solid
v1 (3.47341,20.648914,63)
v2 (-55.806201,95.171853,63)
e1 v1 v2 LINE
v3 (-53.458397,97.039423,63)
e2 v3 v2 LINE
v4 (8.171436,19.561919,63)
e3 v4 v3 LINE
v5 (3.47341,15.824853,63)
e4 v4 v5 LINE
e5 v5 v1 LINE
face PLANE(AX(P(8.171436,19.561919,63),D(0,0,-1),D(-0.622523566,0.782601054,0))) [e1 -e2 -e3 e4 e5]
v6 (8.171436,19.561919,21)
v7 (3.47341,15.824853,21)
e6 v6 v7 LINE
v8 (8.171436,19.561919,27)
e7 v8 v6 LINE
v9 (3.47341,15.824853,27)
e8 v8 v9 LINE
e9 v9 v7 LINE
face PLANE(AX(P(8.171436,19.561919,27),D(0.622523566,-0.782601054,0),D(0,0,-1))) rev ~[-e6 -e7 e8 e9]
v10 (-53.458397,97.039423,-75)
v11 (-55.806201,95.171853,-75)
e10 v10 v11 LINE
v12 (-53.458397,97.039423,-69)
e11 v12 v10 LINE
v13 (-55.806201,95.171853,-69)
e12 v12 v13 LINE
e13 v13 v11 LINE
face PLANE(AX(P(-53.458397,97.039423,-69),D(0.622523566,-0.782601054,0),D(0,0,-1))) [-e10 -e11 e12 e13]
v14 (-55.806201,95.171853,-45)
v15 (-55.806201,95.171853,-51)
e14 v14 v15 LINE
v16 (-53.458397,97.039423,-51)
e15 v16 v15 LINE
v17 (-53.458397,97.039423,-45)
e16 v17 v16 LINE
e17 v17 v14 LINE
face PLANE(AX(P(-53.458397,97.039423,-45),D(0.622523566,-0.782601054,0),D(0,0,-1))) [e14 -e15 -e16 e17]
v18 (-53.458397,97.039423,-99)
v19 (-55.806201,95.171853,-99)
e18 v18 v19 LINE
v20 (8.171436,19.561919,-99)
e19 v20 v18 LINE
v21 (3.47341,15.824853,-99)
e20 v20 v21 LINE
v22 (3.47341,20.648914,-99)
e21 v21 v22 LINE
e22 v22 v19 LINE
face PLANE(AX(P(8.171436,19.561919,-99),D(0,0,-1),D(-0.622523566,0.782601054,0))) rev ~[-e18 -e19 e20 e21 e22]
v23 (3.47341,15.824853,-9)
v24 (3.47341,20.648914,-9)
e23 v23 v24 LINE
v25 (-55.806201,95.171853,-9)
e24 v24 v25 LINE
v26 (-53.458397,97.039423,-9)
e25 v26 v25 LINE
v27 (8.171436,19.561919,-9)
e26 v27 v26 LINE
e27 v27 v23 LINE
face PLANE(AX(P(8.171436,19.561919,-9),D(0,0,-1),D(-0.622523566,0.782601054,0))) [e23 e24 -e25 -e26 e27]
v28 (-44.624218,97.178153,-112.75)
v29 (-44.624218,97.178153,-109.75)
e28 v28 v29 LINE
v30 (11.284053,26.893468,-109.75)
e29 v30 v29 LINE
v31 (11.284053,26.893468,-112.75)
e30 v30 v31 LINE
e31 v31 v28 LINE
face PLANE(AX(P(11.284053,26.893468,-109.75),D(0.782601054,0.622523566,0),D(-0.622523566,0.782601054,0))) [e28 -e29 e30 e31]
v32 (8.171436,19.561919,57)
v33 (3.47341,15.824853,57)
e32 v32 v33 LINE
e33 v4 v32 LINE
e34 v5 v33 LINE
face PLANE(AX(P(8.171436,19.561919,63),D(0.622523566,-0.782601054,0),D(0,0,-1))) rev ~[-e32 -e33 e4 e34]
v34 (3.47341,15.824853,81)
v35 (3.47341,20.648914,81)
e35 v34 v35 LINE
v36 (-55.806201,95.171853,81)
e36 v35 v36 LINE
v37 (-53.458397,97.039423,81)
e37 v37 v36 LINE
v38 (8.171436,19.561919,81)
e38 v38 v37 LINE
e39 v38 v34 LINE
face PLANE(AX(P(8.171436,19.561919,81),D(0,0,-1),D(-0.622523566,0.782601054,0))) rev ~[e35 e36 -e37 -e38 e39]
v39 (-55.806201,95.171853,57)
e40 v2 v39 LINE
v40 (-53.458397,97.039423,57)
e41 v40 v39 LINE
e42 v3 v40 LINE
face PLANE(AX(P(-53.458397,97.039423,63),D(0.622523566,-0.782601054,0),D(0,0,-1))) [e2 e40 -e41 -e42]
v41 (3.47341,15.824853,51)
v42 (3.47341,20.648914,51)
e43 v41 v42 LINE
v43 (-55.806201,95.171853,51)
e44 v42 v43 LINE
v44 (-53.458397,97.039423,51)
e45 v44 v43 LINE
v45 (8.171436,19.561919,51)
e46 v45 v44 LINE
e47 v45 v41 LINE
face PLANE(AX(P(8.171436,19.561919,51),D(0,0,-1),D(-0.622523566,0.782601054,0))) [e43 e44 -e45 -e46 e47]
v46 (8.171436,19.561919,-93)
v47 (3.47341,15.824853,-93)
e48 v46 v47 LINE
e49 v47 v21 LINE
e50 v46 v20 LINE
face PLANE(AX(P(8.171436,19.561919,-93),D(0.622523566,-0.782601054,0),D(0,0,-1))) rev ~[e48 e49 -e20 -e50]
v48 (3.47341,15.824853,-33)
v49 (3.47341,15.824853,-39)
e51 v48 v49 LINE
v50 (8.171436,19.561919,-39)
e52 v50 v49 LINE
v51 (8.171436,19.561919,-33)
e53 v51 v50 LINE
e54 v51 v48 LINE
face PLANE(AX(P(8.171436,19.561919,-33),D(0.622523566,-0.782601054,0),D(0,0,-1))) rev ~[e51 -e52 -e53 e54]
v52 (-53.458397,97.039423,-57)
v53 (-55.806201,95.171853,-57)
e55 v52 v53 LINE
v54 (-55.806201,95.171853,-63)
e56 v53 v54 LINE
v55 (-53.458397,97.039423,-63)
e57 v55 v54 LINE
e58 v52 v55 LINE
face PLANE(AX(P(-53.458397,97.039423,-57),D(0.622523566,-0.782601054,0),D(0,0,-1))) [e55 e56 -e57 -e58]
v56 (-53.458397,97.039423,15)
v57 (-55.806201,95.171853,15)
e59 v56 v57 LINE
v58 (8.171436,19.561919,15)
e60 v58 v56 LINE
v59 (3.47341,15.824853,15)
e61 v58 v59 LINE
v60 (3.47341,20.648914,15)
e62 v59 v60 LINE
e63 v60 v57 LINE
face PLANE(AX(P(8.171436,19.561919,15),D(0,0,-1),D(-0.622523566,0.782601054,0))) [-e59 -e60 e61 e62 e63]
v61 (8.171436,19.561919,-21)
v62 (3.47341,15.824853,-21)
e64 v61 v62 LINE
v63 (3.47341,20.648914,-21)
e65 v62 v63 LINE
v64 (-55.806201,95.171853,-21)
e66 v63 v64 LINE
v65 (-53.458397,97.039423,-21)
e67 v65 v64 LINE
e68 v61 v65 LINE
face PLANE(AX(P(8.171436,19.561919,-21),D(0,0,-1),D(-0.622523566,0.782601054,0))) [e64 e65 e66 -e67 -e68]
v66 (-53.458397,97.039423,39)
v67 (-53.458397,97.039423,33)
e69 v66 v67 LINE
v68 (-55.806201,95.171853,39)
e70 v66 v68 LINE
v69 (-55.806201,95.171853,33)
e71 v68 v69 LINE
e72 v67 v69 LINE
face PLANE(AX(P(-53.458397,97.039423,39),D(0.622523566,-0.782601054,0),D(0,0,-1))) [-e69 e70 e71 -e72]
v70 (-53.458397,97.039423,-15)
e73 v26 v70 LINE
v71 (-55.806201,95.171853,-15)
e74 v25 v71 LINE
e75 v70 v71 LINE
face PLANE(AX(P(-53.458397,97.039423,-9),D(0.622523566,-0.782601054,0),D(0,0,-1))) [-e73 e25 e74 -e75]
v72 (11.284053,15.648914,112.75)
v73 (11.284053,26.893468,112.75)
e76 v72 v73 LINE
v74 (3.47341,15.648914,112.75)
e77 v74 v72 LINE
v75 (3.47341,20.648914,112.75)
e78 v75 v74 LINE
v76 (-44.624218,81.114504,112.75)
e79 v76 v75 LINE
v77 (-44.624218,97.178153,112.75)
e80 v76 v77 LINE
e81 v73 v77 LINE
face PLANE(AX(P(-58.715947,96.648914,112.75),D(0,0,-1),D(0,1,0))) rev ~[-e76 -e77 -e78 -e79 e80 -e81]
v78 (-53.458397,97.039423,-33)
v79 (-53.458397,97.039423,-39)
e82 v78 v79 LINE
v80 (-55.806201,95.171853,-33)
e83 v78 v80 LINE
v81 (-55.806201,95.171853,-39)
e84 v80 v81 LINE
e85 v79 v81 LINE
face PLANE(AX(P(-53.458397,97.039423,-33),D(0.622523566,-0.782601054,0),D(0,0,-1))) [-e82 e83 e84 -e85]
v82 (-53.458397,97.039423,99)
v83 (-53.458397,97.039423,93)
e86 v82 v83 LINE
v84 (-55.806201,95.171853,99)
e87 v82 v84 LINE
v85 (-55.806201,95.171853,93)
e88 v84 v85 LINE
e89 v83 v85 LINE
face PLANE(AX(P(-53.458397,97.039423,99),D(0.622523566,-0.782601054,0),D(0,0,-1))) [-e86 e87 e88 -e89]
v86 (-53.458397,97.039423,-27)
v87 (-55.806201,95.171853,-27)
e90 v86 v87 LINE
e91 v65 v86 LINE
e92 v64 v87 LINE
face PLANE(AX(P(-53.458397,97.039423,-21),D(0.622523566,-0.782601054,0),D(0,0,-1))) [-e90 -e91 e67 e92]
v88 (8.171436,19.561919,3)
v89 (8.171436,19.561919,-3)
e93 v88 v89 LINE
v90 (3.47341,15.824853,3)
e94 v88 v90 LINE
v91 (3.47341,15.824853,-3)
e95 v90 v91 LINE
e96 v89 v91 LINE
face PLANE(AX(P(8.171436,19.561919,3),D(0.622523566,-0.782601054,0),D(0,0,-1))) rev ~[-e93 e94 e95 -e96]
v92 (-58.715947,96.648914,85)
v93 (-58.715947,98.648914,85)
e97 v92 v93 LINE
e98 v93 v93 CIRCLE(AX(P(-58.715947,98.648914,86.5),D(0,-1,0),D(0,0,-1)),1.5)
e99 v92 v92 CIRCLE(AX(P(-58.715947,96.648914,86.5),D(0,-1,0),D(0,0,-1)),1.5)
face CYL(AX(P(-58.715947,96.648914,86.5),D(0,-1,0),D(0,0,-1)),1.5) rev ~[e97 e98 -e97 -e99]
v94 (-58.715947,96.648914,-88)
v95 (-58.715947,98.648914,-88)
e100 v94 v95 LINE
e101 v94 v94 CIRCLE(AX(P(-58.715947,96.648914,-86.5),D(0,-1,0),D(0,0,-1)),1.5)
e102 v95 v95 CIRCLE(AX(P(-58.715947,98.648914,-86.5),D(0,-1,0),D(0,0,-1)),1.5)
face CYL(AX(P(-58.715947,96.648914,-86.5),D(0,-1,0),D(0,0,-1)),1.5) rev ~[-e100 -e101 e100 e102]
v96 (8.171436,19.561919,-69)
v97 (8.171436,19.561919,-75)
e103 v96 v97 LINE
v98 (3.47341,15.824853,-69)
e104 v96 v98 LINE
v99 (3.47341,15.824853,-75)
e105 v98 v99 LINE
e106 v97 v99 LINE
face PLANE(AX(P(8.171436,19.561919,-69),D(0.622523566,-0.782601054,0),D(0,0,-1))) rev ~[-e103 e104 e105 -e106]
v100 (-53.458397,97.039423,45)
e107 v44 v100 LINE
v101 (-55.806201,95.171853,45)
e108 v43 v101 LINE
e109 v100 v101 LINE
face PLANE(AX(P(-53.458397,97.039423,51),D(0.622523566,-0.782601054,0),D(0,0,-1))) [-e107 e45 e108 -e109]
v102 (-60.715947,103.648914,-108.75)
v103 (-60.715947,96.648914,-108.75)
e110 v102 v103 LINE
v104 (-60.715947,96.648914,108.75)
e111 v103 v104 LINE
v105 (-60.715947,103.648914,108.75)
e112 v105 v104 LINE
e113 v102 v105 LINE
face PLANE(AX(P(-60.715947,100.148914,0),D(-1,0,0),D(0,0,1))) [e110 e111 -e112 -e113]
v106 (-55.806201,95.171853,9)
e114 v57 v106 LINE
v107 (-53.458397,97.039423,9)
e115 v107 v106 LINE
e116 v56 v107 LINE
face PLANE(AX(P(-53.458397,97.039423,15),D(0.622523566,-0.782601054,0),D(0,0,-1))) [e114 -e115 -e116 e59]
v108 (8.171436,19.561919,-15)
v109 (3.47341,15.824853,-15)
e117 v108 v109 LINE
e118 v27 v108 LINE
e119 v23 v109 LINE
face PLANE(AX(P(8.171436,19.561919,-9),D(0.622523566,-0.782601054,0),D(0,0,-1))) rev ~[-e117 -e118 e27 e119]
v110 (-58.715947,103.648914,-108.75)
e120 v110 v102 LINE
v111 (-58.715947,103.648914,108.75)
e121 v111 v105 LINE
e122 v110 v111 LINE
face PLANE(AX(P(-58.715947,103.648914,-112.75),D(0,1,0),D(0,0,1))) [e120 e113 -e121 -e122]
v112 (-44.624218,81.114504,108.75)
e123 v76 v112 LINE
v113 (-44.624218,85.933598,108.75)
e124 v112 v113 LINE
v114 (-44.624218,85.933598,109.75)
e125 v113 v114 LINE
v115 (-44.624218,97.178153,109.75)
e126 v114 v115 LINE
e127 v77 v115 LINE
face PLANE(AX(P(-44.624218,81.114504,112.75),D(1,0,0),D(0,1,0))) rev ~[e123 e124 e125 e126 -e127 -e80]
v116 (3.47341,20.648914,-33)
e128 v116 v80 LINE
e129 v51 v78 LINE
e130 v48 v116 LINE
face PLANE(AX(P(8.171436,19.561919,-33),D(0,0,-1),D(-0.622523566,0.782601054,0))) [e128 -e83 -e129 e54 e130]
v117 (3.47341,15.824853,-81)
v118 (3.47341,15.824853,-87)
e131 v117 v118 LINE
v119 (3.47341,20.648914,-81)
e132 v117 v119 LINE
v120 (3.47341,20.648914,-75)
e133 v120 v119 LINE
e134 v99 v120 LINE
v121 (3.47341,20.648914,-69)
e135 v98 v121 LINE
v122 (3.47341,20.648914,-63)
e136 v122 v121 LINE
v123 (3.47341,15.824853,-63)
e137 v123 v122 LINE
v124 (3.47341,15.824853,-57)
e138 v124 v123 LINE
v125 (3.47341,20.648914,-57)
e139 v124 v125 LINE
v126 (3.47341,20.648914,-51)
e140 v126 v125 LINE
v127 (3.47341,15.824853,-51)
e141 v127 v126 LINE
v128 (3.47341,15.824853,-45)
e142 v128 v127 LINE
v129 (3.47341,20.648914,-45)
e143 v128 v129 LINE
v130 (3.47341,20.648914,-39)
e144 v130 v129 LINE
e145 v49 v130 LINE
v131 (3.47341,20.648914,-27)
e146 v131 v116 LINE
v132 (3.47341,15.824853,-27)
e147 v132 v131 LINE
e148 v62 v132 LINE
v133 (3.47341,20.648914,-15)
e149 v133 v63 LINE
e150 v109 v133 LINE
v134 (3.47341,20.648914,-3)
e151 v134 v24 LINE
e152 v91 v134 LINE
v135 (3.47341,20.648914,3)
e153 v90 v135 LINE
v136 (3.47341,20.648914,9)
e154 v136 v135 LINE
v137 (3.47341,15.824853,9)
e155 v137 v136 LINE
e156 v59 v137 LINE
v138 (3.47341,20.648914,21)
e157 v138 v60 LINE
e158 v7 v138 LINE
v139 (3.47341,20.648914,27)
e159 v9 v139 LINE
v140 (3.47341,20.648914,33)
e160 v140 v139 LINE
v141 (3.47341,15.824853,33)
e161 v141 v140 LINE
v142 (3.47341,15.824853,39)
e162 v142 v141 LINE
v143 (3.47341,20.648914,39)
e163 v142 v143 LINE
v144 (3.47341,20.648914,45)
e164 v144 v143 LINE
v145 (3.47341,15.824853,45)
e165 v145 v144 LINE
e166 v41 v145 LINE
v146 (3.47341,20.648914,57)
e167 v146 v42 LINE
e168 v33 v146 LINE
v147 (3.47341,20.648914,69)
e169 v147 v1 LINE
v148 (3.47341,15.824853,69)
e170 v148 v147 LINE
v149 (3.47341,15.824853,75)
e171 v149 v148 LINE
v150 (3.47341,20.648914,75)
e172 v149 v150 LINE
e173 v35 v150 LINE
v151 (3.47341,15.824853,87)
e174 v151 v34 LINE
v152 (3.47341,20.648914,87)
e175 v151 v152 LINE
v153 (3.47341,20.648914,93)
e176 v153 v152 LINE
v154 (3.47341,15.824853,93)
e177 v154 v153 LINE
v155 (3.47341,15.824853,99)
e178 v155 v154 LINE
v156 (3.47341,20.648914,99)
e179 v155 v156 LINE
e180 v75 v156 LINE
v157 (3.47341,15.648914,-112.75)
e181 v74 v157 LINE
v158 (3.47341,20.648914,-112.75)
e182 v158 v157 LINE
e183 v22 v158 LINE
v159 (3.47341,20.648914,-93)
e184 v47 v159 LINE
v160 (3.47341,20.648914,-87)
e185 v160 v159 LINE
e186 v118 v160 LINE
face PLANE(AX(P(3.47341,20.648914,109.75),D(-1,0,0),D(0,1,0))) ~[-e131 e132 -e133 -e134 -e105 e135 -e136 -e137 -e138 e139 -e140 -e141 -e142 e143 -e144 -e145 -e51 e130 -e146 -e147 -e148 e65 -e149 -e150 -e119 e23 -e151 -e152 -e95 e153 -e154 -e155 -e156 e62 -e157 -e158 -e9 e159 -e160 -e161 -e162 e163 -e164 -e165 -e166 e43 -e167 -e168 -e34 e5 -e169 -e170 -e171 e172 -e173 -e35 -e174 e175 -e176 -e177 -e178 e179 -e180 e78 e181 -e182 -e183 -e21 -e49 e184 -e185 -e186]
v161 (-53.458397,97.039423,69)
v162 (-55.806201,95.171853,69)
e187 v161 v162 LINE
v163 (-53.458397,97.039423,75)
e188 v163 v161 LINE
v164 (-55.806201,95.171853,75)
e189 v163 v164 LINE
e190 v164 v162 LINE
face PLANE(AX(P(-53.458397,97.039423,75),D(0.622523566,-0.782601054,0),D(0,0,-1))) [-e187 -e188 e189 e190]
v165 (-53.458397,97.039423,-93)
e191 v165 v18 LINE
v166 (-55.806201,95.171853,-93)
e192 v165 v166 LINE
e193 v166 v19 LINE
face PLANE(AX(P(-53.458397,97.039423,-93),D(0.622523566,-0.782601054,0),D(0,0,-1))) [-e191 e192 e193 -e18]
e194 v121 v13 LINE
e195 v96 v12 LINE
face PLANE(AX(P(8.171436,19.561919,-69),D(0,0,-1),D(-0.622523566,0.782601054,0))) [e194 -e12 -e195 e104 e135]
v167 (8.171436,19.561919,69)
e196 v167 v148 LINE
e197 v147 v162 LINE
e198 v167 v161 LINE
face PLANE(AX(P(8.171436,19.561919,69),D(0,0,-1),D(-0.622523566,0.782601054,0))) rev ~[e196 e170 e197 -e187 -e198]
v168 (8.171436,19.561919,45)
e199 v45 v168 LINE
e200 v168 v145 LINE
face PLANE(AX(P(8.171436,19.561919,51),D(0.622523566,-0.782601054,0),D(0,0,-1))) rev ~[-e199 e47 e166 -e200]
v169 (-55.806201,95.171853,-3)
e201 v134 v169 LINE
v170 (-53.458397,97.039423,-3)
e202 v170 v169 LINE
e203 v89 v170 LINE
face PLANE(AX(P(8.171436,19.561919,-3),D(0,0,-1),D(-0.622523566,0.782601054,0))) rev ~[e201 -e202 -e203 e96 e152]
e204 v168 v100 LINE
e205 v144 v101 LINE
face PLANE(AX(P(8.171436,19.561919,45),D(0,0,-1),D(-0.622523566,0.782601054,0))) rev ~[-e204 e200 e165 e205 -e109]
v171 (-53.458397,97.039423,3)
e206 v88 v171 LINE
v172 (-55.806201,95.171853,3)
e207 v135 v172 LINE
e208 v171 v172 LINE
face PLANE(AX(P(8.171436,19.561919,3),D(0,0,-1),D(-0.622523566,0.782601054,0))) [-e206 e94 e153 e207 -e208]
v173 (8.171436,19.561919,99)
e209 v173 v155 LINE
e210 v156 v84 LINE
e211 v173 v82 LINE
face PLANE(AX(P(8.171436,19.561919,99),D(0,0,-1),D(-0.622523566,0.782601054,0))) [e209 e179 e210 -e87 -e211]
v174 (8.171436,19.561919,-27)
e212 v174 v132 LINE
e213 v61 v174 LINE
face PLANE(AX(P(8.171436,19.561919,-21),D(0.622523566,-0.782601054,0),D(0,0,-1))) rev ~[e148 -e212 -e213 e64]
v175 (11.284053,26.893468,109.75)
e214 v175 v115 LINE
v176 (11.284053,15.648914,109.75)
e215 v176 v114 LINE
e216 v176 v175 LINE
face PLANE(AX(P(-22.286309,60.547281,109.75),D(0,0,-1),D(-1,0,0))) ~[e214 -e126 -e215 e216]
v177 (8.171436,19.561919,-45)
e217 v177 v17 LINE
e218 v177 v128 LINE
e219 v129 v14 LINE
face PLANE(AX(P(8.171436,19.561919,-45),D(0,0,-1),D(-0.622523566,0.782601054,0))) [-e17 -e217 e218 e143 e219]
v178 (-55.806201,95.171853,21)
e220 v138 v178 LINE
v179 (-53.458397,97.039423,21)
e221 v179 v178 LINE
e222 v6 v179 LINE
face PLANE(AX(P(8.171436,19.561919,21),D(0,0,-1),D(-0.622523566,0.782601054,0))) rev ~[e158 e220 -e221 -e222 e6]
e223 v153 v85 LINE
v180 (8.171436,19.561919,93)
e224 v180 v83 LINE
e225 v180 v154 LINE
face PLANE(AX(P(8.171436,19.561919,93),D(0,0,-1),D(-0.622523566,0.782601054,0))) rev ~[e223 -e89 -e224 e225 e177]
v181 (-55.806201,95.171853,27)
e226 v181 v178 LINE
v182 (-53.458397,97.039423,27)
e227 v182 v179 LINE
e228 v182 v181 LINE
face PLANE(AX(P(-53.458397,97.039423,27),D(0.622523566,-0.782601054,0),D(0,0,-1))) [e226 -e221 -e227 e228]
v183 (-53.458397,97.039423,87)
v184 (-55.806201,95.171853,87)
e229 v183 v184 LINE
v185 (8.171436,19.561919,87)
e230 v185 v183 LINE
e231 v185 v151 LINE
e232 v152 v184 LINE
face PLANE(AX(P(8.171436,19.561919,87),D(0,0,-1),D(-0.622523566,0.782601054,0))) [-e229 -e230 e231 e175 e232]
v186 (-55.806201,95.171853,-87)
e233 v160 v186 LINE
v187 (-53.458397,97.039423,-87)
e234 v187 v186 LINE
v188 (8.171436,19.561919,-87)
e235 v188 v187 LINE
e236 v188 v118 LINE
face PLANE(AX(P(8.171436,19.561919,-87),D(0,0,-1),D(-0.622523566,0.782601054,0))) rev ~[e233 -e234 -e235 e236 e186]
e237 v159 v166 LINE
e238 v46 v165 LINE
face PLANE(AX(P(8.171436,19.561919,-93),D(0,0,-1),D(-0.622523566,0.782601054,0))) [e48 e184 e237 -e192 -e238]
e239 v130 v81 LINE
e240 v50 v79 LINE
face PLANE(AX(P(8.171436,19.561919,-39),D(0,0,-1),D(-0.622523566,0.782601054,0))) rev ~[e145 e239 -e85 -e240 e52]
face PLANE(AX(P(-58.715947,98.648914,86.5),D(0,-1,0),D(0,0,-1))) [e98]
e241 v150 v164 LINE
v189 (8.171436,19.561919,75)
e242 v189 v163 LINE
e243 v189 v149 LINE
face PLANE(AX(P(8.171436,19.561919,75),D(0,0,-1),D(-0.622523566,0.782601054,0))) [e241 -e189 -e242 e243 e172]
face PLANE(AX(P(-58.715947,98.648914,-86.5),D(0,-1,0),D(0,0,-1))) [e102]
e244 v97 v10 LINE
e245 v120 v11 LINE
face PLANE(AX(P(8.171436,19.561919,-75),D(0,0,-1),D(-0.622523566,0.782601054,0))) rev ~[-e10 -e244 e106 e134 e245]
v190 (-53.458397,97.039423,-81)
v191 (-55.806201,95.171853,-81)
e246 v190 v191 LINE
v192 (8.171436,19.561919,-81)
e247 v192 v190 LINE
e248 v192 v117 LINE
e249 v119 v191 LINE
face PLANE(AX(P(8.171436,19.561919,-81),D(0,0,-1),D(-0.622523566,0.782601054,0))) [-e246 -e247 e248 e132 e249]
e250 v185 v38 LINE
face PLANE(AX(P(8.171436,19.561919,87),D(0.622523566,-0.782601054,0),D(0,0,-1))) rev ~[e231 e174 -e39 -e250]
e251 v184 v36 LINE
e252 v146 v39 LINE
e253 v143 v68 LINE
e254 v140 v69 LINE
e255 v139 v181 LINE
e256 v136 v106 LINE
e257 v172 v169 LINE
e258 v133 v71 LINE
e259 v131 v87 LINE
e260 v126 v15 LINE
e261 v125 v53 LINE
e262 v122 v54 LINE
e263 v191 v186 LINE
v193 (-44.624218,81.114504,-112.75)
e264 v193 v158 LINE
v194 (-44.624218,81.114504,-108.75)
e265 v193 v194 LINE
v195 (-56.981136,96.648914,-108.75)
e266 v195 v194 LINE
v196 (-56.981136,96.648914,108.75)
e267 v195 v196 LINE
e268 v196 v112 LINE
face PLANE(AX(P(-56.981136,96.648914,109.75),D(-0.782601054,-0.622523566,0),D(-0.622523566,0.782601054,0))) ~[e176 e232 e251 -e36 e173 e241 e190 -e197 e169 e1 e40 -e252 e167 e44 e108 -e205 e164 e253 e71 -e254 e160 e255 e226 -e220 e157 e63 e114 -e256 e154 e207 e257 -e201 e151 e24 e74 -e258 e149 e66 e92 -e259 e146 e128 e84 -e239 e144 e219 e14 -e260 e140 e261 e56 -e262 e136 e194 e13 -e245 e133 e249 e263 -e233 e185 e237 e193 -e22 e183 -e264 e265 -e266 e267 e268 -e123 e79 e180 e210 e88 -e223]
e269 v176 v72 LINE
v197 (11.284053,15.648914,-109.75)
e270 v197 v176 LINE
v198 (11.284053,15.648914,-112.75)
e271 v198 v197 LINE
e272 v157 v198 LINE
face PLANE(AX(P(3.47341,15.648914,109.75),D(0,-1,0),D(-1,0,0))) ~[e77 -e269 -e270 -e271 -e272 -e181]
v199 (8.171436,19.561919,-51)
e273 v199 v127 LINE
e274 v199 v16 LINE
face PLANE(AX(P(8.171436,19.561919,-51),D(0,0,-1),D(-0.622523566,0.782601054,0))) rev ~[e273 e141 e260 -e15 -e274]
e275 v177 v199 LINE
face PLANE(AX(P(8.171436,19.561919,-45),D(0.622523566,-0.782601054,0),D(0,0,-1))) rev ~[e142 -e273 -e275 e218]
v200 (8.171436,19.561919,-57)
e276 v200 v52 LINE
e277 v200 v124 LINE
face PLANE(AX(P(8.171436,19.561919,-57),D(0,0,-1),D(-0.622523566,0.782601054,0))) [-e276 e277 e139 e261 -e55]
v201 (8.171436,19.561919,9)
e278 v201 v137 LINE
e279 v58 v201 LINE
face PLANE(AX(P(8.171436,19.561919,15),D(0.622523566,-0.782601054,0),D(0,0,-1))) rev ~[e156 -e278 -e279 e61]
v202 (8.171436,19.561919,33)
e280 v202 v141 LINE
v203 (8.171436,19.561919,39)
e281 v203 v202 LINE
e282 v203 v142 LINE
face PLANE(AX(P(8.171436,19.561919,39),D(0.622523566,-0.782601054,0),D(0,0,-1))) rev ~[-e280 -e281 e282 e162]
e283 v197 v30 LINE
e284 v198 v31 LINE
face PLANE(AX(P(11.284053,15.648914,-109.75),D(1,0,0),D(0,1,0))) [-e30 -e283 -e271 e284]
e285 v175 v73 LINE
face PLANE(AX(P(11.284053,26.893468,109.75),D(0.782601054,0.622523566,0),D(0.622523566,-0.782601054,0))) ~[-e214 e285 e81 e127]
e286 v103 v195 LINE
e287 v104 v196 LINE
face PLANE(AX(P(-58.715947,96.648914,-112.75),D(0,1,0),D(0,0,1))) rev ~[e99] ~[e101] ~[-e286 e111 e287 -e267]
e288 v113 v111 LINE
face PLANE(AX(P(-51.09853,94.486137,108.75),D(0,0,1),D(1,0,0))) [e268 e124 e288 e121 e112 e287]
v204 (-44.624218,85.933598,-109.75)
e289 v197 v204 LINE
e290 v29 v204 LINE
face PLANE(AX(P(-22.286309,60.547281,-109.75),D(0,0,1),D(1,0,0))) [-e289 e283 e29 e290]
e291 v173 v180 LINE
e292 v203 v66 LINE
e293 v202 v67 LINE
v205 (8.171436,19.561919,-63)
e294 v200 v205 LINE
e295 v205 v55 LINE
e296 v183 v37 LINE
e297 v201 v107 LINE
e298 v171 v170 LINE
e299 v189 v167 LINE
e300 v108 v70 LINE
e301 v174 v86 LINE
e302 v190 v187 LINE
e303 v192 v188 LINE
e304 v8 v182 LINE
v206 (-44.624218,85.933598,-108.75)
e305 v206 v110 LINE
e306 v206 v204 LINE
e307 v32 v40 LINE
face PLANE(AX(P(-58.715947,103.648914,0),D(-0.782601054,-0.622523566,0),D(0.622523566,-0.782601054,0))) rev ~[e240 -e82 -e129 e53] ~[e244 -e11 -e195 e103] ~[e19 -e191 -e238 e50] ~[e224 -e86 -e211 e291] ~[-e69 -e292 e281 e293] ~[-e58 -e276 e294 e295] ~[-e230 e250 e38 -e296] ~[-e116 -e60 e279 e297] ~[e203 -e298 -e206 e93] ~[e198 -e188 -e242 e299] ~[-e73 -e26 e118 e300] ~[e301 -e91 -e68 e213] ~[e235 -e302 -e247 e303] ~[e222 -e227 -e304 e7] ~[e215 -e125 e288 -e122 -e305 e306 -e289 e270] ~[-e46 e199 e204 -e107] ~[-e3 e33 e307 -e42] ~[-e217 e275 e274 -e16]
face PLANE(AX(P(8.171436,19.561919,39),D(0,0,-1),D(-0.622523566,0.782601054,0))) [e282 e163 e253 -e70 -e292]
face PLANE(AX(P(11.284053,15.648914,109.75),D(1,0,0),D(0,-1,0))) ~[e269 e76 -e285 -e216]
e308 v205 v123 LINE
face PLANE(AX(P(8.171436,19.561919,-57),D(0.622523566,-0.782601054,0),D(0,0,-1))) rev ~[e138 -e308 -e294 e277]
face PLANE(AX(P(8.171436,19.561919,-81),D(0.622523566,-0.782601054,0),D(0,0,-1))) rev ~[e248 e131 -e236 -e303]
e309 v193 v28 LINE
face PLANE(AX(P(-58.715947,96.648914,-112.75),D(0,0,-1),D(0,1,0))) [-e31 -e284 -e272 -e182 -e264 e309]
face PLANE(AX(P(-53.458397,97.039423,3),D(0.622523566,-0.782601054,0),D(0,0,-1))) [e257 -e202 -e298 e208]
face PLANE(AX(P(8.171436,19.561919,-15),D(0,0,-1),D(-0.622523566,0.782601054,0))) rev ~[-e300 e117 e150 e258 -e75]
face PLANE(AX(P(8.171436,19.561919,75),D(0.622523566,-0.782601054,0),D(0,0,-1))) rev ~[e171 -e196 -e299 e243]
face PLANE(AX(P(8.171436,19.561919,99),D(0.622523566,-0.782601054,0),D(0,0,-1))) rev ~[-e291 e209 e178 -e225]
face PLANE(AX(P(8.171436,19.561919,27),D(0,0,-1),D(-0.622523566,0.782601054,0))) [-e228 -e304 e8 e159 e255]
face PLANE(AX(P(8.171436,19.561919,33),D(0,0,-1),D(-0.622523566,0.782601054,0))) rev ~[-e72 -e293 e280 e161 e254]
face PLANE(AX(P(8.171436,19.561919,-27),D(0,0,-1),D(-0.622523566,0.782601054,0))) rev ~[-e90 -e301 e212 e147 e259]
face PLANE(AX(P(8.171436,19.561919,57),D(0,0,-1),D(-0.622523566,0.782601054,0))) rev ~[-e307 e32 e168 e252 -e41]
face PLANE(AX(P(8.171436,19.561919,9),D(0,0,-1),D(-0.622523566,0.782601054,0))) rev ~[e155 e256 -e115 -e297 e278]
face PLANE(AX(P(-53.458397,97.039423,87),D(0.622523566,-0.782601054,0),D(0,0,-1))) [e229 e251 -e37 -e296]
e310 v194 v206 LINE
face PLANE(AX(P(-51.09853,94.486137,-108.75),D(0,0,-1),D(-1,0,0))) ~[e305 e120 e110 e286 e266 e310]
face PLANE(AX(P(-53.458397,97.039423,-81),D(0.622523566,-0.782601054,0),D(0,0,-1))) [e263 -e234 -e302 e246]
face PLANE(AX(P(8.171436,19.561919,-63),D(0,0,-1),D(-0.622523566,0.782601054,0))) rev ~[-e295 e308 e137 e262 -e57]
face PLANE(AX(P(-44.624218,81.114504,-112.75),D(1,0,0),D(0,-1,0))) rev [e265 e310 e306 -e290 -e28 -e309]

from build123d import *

# Parameters (mm, degrees)
EXTRUDE_1_DEPTH     = 112
EXTRUDE_START       = -2.25
EXTRUDE_2_DEPTH     = 3
SKETCH_9_W          = 6
SKETCH_9_H          = 99
CUT_EXTRUDE_3_DEPTH = 10
SKETCH_10_W         = 225.5
SKETCH_10_H         = 7
EXTRUDE_3_DEPTH     = 2
SKETCH_5_R          = 1.5
CUT_EXTRUDE_2_DEPTH = 2
CUT_EXTRUDE_4_DEPTH = 4


with BuildPart() as part:
    # 草图1 → 凸台-拉伸1 (new, symmetric)
    with BuildSketch(Plane.XY):
        Polygon((11.28405341, 15.648913828), (3.47340992, 15.648913828), (3.47340992, 20.648913828), (-56.981135534, 96.648913828), (-58.71594659, 96.648913828), (-58.71594659, 103.648913828), align=None)
    extrude(amount=EXTRUDE_1_DEPTH, both=True)

    # 草图8 → 凸台-拉伸2 (add)
    with BuildSketch(Plane(origin=(0, 0, -112), x_dir=(-1, 0, 0), z_dir=(0, 0, -1)).offset(EXTRUDE_START)):
        Polygon((-3.47340992, 15.648913828), (-11.28405341, 15.648913828), (-11.28405341, 26.893468065), (49.77141481, 103.648913828), (58.71594659, 103.648913828), (58.71594659, 96.648913828), (56.981135534, 96.648913828), (-3.47340992, 20.648913828), align=None)
    extrude_2 = extrude(amount=EXTRUDE_2_DEPTH)

    # 镜向1: 凸台-拉伸2 across plane
    add(extrude_2.mirror(Plane.XY))

    # 草图9 → 切除-拉伸3 (cut)
    with BuildSketch(Plane(origin=(14.535037867, 11.561961939, 0), x_dir=(0, 0, -1), z_dir=(0.7826010541756485, 0.6225235658215388, 0))):
        with Locations((12, 59.722267293)):
            Rectangle(SKETCH_9_W, SKETCH_9_H)
        with Locations((0, 59.722267293)):
            Rectangle(SKETCH_9_W, SKETCH_9_H)
        with Locations((24, 59.722267293)):
            Rectangle(SKETCH_9_W, SKETCH_9_H)
        with Locations((36, 59.722267293)):
            Rectangle(SKETCH_9_W, SKETCH_9_H)
        with Locations((48, 59.722267293)):
            Rectangle(SKETCH_9_W, SKETCH_9_H)
        with Locations((60, 59.722267293)):
            Rectangle(SKETCH_9_W, SKETCH_9_H)
        with Locations((72, 59.722267293)):
            Rectangle(SKETCH_9_W, SKETCH_9_H)
        with Locations((84, 59.722267293)):
            Rectangle(SKETCH_9_W, SKETCH_9_H)
        with Locations((96, 59.722267293)):
            Rectangle(SKETCH_9_W, SKETCH_9_H)
        with Locations((-12, 59.722267293)):
            Rectangle(SKETCH_9_W, SKETCH_9_H)
        with Locations((-24, 59.722267293)):
            Rectangle(SKETCH_9_W, SKETCH_9_H)
        with Locations((-36, 59.722267293)):
            Rectangle(SKETCH_9_W, SKETCH_9_H)
        with Locations((-48, 59.722267293)):
            Rectangle(SKETCH_9_W, SKETCH_9_H)
        with Locations((-60, 59.722267293)):
            Rectangle(SKETCH_9_W, SKETCH_9_H)
        with Locations((-72, 59.722267293)):
            Rectangle(SKETCH_9_W, SKETCH_9_H)
        with Locations((-84, 59.722267293)):
            Rectangle(SKETCH_9_W, SKETCH_9_H)
        with Locations((-96, 59.722267293)):
            Rectangle(SKETCH_9_W, SKETCH_9_H)
    extrude(amount=-CUT_EXTRUDE_3_DEPTH, mode=Mode.SUBTRACT)

    # 草图10 → 凸台-拉伸3 (add)
    with BuildSketch(Plane.ZY.offset(58.71594659)):
        with Locations((0, 100.148913828)):
            Rectangle(SKETCH_10_W, SKETCH_10_H)
    extrude(amount=EXTRUDE_3_DEPTH)

    # 草图5 → 切除-拉伸2 (cut)
    with BuildSketch(Plane.XZ.offset(-96.648913828)):
        with Locations(Location((-58.71594659, -86.5, 0), (0, 0, 270))):
            Circle(SKETCH_5_R)
        with Locations(Location((-58.71594659, 86.5, 0), (0, 0, 270))):
            Circle(SKETCH_5_R)
    extrude(amount=-CUT_EXTRUDE_2_DEPTH, mode=Mode.SUBTRACT)

    # 草图12 → 切除-拉伸4 (cut)
    with BuildSketch(Plane.XY.offset(112.75)):
        Polygon((-60.71594659, 103.648913828), (-60.71594659, 96.597994862), (-56.981135534, 96.648913828), (-44.624218302, 81.114503593), (-44.624218302, 97.178152504), (-49.77141481, 103.648913828), align=None)
    cut_extrude_4 = extrude(amount=-CUT_EXTRUDE_4_DEPTH, mode=Mode.SUBTRACT)

    # 镜向2: 切除-拉伸4 across plane
    add(cut_extrude_4.mirror(Plane.XY), mode=Mode.SUBTRACT)


solid = part.part
